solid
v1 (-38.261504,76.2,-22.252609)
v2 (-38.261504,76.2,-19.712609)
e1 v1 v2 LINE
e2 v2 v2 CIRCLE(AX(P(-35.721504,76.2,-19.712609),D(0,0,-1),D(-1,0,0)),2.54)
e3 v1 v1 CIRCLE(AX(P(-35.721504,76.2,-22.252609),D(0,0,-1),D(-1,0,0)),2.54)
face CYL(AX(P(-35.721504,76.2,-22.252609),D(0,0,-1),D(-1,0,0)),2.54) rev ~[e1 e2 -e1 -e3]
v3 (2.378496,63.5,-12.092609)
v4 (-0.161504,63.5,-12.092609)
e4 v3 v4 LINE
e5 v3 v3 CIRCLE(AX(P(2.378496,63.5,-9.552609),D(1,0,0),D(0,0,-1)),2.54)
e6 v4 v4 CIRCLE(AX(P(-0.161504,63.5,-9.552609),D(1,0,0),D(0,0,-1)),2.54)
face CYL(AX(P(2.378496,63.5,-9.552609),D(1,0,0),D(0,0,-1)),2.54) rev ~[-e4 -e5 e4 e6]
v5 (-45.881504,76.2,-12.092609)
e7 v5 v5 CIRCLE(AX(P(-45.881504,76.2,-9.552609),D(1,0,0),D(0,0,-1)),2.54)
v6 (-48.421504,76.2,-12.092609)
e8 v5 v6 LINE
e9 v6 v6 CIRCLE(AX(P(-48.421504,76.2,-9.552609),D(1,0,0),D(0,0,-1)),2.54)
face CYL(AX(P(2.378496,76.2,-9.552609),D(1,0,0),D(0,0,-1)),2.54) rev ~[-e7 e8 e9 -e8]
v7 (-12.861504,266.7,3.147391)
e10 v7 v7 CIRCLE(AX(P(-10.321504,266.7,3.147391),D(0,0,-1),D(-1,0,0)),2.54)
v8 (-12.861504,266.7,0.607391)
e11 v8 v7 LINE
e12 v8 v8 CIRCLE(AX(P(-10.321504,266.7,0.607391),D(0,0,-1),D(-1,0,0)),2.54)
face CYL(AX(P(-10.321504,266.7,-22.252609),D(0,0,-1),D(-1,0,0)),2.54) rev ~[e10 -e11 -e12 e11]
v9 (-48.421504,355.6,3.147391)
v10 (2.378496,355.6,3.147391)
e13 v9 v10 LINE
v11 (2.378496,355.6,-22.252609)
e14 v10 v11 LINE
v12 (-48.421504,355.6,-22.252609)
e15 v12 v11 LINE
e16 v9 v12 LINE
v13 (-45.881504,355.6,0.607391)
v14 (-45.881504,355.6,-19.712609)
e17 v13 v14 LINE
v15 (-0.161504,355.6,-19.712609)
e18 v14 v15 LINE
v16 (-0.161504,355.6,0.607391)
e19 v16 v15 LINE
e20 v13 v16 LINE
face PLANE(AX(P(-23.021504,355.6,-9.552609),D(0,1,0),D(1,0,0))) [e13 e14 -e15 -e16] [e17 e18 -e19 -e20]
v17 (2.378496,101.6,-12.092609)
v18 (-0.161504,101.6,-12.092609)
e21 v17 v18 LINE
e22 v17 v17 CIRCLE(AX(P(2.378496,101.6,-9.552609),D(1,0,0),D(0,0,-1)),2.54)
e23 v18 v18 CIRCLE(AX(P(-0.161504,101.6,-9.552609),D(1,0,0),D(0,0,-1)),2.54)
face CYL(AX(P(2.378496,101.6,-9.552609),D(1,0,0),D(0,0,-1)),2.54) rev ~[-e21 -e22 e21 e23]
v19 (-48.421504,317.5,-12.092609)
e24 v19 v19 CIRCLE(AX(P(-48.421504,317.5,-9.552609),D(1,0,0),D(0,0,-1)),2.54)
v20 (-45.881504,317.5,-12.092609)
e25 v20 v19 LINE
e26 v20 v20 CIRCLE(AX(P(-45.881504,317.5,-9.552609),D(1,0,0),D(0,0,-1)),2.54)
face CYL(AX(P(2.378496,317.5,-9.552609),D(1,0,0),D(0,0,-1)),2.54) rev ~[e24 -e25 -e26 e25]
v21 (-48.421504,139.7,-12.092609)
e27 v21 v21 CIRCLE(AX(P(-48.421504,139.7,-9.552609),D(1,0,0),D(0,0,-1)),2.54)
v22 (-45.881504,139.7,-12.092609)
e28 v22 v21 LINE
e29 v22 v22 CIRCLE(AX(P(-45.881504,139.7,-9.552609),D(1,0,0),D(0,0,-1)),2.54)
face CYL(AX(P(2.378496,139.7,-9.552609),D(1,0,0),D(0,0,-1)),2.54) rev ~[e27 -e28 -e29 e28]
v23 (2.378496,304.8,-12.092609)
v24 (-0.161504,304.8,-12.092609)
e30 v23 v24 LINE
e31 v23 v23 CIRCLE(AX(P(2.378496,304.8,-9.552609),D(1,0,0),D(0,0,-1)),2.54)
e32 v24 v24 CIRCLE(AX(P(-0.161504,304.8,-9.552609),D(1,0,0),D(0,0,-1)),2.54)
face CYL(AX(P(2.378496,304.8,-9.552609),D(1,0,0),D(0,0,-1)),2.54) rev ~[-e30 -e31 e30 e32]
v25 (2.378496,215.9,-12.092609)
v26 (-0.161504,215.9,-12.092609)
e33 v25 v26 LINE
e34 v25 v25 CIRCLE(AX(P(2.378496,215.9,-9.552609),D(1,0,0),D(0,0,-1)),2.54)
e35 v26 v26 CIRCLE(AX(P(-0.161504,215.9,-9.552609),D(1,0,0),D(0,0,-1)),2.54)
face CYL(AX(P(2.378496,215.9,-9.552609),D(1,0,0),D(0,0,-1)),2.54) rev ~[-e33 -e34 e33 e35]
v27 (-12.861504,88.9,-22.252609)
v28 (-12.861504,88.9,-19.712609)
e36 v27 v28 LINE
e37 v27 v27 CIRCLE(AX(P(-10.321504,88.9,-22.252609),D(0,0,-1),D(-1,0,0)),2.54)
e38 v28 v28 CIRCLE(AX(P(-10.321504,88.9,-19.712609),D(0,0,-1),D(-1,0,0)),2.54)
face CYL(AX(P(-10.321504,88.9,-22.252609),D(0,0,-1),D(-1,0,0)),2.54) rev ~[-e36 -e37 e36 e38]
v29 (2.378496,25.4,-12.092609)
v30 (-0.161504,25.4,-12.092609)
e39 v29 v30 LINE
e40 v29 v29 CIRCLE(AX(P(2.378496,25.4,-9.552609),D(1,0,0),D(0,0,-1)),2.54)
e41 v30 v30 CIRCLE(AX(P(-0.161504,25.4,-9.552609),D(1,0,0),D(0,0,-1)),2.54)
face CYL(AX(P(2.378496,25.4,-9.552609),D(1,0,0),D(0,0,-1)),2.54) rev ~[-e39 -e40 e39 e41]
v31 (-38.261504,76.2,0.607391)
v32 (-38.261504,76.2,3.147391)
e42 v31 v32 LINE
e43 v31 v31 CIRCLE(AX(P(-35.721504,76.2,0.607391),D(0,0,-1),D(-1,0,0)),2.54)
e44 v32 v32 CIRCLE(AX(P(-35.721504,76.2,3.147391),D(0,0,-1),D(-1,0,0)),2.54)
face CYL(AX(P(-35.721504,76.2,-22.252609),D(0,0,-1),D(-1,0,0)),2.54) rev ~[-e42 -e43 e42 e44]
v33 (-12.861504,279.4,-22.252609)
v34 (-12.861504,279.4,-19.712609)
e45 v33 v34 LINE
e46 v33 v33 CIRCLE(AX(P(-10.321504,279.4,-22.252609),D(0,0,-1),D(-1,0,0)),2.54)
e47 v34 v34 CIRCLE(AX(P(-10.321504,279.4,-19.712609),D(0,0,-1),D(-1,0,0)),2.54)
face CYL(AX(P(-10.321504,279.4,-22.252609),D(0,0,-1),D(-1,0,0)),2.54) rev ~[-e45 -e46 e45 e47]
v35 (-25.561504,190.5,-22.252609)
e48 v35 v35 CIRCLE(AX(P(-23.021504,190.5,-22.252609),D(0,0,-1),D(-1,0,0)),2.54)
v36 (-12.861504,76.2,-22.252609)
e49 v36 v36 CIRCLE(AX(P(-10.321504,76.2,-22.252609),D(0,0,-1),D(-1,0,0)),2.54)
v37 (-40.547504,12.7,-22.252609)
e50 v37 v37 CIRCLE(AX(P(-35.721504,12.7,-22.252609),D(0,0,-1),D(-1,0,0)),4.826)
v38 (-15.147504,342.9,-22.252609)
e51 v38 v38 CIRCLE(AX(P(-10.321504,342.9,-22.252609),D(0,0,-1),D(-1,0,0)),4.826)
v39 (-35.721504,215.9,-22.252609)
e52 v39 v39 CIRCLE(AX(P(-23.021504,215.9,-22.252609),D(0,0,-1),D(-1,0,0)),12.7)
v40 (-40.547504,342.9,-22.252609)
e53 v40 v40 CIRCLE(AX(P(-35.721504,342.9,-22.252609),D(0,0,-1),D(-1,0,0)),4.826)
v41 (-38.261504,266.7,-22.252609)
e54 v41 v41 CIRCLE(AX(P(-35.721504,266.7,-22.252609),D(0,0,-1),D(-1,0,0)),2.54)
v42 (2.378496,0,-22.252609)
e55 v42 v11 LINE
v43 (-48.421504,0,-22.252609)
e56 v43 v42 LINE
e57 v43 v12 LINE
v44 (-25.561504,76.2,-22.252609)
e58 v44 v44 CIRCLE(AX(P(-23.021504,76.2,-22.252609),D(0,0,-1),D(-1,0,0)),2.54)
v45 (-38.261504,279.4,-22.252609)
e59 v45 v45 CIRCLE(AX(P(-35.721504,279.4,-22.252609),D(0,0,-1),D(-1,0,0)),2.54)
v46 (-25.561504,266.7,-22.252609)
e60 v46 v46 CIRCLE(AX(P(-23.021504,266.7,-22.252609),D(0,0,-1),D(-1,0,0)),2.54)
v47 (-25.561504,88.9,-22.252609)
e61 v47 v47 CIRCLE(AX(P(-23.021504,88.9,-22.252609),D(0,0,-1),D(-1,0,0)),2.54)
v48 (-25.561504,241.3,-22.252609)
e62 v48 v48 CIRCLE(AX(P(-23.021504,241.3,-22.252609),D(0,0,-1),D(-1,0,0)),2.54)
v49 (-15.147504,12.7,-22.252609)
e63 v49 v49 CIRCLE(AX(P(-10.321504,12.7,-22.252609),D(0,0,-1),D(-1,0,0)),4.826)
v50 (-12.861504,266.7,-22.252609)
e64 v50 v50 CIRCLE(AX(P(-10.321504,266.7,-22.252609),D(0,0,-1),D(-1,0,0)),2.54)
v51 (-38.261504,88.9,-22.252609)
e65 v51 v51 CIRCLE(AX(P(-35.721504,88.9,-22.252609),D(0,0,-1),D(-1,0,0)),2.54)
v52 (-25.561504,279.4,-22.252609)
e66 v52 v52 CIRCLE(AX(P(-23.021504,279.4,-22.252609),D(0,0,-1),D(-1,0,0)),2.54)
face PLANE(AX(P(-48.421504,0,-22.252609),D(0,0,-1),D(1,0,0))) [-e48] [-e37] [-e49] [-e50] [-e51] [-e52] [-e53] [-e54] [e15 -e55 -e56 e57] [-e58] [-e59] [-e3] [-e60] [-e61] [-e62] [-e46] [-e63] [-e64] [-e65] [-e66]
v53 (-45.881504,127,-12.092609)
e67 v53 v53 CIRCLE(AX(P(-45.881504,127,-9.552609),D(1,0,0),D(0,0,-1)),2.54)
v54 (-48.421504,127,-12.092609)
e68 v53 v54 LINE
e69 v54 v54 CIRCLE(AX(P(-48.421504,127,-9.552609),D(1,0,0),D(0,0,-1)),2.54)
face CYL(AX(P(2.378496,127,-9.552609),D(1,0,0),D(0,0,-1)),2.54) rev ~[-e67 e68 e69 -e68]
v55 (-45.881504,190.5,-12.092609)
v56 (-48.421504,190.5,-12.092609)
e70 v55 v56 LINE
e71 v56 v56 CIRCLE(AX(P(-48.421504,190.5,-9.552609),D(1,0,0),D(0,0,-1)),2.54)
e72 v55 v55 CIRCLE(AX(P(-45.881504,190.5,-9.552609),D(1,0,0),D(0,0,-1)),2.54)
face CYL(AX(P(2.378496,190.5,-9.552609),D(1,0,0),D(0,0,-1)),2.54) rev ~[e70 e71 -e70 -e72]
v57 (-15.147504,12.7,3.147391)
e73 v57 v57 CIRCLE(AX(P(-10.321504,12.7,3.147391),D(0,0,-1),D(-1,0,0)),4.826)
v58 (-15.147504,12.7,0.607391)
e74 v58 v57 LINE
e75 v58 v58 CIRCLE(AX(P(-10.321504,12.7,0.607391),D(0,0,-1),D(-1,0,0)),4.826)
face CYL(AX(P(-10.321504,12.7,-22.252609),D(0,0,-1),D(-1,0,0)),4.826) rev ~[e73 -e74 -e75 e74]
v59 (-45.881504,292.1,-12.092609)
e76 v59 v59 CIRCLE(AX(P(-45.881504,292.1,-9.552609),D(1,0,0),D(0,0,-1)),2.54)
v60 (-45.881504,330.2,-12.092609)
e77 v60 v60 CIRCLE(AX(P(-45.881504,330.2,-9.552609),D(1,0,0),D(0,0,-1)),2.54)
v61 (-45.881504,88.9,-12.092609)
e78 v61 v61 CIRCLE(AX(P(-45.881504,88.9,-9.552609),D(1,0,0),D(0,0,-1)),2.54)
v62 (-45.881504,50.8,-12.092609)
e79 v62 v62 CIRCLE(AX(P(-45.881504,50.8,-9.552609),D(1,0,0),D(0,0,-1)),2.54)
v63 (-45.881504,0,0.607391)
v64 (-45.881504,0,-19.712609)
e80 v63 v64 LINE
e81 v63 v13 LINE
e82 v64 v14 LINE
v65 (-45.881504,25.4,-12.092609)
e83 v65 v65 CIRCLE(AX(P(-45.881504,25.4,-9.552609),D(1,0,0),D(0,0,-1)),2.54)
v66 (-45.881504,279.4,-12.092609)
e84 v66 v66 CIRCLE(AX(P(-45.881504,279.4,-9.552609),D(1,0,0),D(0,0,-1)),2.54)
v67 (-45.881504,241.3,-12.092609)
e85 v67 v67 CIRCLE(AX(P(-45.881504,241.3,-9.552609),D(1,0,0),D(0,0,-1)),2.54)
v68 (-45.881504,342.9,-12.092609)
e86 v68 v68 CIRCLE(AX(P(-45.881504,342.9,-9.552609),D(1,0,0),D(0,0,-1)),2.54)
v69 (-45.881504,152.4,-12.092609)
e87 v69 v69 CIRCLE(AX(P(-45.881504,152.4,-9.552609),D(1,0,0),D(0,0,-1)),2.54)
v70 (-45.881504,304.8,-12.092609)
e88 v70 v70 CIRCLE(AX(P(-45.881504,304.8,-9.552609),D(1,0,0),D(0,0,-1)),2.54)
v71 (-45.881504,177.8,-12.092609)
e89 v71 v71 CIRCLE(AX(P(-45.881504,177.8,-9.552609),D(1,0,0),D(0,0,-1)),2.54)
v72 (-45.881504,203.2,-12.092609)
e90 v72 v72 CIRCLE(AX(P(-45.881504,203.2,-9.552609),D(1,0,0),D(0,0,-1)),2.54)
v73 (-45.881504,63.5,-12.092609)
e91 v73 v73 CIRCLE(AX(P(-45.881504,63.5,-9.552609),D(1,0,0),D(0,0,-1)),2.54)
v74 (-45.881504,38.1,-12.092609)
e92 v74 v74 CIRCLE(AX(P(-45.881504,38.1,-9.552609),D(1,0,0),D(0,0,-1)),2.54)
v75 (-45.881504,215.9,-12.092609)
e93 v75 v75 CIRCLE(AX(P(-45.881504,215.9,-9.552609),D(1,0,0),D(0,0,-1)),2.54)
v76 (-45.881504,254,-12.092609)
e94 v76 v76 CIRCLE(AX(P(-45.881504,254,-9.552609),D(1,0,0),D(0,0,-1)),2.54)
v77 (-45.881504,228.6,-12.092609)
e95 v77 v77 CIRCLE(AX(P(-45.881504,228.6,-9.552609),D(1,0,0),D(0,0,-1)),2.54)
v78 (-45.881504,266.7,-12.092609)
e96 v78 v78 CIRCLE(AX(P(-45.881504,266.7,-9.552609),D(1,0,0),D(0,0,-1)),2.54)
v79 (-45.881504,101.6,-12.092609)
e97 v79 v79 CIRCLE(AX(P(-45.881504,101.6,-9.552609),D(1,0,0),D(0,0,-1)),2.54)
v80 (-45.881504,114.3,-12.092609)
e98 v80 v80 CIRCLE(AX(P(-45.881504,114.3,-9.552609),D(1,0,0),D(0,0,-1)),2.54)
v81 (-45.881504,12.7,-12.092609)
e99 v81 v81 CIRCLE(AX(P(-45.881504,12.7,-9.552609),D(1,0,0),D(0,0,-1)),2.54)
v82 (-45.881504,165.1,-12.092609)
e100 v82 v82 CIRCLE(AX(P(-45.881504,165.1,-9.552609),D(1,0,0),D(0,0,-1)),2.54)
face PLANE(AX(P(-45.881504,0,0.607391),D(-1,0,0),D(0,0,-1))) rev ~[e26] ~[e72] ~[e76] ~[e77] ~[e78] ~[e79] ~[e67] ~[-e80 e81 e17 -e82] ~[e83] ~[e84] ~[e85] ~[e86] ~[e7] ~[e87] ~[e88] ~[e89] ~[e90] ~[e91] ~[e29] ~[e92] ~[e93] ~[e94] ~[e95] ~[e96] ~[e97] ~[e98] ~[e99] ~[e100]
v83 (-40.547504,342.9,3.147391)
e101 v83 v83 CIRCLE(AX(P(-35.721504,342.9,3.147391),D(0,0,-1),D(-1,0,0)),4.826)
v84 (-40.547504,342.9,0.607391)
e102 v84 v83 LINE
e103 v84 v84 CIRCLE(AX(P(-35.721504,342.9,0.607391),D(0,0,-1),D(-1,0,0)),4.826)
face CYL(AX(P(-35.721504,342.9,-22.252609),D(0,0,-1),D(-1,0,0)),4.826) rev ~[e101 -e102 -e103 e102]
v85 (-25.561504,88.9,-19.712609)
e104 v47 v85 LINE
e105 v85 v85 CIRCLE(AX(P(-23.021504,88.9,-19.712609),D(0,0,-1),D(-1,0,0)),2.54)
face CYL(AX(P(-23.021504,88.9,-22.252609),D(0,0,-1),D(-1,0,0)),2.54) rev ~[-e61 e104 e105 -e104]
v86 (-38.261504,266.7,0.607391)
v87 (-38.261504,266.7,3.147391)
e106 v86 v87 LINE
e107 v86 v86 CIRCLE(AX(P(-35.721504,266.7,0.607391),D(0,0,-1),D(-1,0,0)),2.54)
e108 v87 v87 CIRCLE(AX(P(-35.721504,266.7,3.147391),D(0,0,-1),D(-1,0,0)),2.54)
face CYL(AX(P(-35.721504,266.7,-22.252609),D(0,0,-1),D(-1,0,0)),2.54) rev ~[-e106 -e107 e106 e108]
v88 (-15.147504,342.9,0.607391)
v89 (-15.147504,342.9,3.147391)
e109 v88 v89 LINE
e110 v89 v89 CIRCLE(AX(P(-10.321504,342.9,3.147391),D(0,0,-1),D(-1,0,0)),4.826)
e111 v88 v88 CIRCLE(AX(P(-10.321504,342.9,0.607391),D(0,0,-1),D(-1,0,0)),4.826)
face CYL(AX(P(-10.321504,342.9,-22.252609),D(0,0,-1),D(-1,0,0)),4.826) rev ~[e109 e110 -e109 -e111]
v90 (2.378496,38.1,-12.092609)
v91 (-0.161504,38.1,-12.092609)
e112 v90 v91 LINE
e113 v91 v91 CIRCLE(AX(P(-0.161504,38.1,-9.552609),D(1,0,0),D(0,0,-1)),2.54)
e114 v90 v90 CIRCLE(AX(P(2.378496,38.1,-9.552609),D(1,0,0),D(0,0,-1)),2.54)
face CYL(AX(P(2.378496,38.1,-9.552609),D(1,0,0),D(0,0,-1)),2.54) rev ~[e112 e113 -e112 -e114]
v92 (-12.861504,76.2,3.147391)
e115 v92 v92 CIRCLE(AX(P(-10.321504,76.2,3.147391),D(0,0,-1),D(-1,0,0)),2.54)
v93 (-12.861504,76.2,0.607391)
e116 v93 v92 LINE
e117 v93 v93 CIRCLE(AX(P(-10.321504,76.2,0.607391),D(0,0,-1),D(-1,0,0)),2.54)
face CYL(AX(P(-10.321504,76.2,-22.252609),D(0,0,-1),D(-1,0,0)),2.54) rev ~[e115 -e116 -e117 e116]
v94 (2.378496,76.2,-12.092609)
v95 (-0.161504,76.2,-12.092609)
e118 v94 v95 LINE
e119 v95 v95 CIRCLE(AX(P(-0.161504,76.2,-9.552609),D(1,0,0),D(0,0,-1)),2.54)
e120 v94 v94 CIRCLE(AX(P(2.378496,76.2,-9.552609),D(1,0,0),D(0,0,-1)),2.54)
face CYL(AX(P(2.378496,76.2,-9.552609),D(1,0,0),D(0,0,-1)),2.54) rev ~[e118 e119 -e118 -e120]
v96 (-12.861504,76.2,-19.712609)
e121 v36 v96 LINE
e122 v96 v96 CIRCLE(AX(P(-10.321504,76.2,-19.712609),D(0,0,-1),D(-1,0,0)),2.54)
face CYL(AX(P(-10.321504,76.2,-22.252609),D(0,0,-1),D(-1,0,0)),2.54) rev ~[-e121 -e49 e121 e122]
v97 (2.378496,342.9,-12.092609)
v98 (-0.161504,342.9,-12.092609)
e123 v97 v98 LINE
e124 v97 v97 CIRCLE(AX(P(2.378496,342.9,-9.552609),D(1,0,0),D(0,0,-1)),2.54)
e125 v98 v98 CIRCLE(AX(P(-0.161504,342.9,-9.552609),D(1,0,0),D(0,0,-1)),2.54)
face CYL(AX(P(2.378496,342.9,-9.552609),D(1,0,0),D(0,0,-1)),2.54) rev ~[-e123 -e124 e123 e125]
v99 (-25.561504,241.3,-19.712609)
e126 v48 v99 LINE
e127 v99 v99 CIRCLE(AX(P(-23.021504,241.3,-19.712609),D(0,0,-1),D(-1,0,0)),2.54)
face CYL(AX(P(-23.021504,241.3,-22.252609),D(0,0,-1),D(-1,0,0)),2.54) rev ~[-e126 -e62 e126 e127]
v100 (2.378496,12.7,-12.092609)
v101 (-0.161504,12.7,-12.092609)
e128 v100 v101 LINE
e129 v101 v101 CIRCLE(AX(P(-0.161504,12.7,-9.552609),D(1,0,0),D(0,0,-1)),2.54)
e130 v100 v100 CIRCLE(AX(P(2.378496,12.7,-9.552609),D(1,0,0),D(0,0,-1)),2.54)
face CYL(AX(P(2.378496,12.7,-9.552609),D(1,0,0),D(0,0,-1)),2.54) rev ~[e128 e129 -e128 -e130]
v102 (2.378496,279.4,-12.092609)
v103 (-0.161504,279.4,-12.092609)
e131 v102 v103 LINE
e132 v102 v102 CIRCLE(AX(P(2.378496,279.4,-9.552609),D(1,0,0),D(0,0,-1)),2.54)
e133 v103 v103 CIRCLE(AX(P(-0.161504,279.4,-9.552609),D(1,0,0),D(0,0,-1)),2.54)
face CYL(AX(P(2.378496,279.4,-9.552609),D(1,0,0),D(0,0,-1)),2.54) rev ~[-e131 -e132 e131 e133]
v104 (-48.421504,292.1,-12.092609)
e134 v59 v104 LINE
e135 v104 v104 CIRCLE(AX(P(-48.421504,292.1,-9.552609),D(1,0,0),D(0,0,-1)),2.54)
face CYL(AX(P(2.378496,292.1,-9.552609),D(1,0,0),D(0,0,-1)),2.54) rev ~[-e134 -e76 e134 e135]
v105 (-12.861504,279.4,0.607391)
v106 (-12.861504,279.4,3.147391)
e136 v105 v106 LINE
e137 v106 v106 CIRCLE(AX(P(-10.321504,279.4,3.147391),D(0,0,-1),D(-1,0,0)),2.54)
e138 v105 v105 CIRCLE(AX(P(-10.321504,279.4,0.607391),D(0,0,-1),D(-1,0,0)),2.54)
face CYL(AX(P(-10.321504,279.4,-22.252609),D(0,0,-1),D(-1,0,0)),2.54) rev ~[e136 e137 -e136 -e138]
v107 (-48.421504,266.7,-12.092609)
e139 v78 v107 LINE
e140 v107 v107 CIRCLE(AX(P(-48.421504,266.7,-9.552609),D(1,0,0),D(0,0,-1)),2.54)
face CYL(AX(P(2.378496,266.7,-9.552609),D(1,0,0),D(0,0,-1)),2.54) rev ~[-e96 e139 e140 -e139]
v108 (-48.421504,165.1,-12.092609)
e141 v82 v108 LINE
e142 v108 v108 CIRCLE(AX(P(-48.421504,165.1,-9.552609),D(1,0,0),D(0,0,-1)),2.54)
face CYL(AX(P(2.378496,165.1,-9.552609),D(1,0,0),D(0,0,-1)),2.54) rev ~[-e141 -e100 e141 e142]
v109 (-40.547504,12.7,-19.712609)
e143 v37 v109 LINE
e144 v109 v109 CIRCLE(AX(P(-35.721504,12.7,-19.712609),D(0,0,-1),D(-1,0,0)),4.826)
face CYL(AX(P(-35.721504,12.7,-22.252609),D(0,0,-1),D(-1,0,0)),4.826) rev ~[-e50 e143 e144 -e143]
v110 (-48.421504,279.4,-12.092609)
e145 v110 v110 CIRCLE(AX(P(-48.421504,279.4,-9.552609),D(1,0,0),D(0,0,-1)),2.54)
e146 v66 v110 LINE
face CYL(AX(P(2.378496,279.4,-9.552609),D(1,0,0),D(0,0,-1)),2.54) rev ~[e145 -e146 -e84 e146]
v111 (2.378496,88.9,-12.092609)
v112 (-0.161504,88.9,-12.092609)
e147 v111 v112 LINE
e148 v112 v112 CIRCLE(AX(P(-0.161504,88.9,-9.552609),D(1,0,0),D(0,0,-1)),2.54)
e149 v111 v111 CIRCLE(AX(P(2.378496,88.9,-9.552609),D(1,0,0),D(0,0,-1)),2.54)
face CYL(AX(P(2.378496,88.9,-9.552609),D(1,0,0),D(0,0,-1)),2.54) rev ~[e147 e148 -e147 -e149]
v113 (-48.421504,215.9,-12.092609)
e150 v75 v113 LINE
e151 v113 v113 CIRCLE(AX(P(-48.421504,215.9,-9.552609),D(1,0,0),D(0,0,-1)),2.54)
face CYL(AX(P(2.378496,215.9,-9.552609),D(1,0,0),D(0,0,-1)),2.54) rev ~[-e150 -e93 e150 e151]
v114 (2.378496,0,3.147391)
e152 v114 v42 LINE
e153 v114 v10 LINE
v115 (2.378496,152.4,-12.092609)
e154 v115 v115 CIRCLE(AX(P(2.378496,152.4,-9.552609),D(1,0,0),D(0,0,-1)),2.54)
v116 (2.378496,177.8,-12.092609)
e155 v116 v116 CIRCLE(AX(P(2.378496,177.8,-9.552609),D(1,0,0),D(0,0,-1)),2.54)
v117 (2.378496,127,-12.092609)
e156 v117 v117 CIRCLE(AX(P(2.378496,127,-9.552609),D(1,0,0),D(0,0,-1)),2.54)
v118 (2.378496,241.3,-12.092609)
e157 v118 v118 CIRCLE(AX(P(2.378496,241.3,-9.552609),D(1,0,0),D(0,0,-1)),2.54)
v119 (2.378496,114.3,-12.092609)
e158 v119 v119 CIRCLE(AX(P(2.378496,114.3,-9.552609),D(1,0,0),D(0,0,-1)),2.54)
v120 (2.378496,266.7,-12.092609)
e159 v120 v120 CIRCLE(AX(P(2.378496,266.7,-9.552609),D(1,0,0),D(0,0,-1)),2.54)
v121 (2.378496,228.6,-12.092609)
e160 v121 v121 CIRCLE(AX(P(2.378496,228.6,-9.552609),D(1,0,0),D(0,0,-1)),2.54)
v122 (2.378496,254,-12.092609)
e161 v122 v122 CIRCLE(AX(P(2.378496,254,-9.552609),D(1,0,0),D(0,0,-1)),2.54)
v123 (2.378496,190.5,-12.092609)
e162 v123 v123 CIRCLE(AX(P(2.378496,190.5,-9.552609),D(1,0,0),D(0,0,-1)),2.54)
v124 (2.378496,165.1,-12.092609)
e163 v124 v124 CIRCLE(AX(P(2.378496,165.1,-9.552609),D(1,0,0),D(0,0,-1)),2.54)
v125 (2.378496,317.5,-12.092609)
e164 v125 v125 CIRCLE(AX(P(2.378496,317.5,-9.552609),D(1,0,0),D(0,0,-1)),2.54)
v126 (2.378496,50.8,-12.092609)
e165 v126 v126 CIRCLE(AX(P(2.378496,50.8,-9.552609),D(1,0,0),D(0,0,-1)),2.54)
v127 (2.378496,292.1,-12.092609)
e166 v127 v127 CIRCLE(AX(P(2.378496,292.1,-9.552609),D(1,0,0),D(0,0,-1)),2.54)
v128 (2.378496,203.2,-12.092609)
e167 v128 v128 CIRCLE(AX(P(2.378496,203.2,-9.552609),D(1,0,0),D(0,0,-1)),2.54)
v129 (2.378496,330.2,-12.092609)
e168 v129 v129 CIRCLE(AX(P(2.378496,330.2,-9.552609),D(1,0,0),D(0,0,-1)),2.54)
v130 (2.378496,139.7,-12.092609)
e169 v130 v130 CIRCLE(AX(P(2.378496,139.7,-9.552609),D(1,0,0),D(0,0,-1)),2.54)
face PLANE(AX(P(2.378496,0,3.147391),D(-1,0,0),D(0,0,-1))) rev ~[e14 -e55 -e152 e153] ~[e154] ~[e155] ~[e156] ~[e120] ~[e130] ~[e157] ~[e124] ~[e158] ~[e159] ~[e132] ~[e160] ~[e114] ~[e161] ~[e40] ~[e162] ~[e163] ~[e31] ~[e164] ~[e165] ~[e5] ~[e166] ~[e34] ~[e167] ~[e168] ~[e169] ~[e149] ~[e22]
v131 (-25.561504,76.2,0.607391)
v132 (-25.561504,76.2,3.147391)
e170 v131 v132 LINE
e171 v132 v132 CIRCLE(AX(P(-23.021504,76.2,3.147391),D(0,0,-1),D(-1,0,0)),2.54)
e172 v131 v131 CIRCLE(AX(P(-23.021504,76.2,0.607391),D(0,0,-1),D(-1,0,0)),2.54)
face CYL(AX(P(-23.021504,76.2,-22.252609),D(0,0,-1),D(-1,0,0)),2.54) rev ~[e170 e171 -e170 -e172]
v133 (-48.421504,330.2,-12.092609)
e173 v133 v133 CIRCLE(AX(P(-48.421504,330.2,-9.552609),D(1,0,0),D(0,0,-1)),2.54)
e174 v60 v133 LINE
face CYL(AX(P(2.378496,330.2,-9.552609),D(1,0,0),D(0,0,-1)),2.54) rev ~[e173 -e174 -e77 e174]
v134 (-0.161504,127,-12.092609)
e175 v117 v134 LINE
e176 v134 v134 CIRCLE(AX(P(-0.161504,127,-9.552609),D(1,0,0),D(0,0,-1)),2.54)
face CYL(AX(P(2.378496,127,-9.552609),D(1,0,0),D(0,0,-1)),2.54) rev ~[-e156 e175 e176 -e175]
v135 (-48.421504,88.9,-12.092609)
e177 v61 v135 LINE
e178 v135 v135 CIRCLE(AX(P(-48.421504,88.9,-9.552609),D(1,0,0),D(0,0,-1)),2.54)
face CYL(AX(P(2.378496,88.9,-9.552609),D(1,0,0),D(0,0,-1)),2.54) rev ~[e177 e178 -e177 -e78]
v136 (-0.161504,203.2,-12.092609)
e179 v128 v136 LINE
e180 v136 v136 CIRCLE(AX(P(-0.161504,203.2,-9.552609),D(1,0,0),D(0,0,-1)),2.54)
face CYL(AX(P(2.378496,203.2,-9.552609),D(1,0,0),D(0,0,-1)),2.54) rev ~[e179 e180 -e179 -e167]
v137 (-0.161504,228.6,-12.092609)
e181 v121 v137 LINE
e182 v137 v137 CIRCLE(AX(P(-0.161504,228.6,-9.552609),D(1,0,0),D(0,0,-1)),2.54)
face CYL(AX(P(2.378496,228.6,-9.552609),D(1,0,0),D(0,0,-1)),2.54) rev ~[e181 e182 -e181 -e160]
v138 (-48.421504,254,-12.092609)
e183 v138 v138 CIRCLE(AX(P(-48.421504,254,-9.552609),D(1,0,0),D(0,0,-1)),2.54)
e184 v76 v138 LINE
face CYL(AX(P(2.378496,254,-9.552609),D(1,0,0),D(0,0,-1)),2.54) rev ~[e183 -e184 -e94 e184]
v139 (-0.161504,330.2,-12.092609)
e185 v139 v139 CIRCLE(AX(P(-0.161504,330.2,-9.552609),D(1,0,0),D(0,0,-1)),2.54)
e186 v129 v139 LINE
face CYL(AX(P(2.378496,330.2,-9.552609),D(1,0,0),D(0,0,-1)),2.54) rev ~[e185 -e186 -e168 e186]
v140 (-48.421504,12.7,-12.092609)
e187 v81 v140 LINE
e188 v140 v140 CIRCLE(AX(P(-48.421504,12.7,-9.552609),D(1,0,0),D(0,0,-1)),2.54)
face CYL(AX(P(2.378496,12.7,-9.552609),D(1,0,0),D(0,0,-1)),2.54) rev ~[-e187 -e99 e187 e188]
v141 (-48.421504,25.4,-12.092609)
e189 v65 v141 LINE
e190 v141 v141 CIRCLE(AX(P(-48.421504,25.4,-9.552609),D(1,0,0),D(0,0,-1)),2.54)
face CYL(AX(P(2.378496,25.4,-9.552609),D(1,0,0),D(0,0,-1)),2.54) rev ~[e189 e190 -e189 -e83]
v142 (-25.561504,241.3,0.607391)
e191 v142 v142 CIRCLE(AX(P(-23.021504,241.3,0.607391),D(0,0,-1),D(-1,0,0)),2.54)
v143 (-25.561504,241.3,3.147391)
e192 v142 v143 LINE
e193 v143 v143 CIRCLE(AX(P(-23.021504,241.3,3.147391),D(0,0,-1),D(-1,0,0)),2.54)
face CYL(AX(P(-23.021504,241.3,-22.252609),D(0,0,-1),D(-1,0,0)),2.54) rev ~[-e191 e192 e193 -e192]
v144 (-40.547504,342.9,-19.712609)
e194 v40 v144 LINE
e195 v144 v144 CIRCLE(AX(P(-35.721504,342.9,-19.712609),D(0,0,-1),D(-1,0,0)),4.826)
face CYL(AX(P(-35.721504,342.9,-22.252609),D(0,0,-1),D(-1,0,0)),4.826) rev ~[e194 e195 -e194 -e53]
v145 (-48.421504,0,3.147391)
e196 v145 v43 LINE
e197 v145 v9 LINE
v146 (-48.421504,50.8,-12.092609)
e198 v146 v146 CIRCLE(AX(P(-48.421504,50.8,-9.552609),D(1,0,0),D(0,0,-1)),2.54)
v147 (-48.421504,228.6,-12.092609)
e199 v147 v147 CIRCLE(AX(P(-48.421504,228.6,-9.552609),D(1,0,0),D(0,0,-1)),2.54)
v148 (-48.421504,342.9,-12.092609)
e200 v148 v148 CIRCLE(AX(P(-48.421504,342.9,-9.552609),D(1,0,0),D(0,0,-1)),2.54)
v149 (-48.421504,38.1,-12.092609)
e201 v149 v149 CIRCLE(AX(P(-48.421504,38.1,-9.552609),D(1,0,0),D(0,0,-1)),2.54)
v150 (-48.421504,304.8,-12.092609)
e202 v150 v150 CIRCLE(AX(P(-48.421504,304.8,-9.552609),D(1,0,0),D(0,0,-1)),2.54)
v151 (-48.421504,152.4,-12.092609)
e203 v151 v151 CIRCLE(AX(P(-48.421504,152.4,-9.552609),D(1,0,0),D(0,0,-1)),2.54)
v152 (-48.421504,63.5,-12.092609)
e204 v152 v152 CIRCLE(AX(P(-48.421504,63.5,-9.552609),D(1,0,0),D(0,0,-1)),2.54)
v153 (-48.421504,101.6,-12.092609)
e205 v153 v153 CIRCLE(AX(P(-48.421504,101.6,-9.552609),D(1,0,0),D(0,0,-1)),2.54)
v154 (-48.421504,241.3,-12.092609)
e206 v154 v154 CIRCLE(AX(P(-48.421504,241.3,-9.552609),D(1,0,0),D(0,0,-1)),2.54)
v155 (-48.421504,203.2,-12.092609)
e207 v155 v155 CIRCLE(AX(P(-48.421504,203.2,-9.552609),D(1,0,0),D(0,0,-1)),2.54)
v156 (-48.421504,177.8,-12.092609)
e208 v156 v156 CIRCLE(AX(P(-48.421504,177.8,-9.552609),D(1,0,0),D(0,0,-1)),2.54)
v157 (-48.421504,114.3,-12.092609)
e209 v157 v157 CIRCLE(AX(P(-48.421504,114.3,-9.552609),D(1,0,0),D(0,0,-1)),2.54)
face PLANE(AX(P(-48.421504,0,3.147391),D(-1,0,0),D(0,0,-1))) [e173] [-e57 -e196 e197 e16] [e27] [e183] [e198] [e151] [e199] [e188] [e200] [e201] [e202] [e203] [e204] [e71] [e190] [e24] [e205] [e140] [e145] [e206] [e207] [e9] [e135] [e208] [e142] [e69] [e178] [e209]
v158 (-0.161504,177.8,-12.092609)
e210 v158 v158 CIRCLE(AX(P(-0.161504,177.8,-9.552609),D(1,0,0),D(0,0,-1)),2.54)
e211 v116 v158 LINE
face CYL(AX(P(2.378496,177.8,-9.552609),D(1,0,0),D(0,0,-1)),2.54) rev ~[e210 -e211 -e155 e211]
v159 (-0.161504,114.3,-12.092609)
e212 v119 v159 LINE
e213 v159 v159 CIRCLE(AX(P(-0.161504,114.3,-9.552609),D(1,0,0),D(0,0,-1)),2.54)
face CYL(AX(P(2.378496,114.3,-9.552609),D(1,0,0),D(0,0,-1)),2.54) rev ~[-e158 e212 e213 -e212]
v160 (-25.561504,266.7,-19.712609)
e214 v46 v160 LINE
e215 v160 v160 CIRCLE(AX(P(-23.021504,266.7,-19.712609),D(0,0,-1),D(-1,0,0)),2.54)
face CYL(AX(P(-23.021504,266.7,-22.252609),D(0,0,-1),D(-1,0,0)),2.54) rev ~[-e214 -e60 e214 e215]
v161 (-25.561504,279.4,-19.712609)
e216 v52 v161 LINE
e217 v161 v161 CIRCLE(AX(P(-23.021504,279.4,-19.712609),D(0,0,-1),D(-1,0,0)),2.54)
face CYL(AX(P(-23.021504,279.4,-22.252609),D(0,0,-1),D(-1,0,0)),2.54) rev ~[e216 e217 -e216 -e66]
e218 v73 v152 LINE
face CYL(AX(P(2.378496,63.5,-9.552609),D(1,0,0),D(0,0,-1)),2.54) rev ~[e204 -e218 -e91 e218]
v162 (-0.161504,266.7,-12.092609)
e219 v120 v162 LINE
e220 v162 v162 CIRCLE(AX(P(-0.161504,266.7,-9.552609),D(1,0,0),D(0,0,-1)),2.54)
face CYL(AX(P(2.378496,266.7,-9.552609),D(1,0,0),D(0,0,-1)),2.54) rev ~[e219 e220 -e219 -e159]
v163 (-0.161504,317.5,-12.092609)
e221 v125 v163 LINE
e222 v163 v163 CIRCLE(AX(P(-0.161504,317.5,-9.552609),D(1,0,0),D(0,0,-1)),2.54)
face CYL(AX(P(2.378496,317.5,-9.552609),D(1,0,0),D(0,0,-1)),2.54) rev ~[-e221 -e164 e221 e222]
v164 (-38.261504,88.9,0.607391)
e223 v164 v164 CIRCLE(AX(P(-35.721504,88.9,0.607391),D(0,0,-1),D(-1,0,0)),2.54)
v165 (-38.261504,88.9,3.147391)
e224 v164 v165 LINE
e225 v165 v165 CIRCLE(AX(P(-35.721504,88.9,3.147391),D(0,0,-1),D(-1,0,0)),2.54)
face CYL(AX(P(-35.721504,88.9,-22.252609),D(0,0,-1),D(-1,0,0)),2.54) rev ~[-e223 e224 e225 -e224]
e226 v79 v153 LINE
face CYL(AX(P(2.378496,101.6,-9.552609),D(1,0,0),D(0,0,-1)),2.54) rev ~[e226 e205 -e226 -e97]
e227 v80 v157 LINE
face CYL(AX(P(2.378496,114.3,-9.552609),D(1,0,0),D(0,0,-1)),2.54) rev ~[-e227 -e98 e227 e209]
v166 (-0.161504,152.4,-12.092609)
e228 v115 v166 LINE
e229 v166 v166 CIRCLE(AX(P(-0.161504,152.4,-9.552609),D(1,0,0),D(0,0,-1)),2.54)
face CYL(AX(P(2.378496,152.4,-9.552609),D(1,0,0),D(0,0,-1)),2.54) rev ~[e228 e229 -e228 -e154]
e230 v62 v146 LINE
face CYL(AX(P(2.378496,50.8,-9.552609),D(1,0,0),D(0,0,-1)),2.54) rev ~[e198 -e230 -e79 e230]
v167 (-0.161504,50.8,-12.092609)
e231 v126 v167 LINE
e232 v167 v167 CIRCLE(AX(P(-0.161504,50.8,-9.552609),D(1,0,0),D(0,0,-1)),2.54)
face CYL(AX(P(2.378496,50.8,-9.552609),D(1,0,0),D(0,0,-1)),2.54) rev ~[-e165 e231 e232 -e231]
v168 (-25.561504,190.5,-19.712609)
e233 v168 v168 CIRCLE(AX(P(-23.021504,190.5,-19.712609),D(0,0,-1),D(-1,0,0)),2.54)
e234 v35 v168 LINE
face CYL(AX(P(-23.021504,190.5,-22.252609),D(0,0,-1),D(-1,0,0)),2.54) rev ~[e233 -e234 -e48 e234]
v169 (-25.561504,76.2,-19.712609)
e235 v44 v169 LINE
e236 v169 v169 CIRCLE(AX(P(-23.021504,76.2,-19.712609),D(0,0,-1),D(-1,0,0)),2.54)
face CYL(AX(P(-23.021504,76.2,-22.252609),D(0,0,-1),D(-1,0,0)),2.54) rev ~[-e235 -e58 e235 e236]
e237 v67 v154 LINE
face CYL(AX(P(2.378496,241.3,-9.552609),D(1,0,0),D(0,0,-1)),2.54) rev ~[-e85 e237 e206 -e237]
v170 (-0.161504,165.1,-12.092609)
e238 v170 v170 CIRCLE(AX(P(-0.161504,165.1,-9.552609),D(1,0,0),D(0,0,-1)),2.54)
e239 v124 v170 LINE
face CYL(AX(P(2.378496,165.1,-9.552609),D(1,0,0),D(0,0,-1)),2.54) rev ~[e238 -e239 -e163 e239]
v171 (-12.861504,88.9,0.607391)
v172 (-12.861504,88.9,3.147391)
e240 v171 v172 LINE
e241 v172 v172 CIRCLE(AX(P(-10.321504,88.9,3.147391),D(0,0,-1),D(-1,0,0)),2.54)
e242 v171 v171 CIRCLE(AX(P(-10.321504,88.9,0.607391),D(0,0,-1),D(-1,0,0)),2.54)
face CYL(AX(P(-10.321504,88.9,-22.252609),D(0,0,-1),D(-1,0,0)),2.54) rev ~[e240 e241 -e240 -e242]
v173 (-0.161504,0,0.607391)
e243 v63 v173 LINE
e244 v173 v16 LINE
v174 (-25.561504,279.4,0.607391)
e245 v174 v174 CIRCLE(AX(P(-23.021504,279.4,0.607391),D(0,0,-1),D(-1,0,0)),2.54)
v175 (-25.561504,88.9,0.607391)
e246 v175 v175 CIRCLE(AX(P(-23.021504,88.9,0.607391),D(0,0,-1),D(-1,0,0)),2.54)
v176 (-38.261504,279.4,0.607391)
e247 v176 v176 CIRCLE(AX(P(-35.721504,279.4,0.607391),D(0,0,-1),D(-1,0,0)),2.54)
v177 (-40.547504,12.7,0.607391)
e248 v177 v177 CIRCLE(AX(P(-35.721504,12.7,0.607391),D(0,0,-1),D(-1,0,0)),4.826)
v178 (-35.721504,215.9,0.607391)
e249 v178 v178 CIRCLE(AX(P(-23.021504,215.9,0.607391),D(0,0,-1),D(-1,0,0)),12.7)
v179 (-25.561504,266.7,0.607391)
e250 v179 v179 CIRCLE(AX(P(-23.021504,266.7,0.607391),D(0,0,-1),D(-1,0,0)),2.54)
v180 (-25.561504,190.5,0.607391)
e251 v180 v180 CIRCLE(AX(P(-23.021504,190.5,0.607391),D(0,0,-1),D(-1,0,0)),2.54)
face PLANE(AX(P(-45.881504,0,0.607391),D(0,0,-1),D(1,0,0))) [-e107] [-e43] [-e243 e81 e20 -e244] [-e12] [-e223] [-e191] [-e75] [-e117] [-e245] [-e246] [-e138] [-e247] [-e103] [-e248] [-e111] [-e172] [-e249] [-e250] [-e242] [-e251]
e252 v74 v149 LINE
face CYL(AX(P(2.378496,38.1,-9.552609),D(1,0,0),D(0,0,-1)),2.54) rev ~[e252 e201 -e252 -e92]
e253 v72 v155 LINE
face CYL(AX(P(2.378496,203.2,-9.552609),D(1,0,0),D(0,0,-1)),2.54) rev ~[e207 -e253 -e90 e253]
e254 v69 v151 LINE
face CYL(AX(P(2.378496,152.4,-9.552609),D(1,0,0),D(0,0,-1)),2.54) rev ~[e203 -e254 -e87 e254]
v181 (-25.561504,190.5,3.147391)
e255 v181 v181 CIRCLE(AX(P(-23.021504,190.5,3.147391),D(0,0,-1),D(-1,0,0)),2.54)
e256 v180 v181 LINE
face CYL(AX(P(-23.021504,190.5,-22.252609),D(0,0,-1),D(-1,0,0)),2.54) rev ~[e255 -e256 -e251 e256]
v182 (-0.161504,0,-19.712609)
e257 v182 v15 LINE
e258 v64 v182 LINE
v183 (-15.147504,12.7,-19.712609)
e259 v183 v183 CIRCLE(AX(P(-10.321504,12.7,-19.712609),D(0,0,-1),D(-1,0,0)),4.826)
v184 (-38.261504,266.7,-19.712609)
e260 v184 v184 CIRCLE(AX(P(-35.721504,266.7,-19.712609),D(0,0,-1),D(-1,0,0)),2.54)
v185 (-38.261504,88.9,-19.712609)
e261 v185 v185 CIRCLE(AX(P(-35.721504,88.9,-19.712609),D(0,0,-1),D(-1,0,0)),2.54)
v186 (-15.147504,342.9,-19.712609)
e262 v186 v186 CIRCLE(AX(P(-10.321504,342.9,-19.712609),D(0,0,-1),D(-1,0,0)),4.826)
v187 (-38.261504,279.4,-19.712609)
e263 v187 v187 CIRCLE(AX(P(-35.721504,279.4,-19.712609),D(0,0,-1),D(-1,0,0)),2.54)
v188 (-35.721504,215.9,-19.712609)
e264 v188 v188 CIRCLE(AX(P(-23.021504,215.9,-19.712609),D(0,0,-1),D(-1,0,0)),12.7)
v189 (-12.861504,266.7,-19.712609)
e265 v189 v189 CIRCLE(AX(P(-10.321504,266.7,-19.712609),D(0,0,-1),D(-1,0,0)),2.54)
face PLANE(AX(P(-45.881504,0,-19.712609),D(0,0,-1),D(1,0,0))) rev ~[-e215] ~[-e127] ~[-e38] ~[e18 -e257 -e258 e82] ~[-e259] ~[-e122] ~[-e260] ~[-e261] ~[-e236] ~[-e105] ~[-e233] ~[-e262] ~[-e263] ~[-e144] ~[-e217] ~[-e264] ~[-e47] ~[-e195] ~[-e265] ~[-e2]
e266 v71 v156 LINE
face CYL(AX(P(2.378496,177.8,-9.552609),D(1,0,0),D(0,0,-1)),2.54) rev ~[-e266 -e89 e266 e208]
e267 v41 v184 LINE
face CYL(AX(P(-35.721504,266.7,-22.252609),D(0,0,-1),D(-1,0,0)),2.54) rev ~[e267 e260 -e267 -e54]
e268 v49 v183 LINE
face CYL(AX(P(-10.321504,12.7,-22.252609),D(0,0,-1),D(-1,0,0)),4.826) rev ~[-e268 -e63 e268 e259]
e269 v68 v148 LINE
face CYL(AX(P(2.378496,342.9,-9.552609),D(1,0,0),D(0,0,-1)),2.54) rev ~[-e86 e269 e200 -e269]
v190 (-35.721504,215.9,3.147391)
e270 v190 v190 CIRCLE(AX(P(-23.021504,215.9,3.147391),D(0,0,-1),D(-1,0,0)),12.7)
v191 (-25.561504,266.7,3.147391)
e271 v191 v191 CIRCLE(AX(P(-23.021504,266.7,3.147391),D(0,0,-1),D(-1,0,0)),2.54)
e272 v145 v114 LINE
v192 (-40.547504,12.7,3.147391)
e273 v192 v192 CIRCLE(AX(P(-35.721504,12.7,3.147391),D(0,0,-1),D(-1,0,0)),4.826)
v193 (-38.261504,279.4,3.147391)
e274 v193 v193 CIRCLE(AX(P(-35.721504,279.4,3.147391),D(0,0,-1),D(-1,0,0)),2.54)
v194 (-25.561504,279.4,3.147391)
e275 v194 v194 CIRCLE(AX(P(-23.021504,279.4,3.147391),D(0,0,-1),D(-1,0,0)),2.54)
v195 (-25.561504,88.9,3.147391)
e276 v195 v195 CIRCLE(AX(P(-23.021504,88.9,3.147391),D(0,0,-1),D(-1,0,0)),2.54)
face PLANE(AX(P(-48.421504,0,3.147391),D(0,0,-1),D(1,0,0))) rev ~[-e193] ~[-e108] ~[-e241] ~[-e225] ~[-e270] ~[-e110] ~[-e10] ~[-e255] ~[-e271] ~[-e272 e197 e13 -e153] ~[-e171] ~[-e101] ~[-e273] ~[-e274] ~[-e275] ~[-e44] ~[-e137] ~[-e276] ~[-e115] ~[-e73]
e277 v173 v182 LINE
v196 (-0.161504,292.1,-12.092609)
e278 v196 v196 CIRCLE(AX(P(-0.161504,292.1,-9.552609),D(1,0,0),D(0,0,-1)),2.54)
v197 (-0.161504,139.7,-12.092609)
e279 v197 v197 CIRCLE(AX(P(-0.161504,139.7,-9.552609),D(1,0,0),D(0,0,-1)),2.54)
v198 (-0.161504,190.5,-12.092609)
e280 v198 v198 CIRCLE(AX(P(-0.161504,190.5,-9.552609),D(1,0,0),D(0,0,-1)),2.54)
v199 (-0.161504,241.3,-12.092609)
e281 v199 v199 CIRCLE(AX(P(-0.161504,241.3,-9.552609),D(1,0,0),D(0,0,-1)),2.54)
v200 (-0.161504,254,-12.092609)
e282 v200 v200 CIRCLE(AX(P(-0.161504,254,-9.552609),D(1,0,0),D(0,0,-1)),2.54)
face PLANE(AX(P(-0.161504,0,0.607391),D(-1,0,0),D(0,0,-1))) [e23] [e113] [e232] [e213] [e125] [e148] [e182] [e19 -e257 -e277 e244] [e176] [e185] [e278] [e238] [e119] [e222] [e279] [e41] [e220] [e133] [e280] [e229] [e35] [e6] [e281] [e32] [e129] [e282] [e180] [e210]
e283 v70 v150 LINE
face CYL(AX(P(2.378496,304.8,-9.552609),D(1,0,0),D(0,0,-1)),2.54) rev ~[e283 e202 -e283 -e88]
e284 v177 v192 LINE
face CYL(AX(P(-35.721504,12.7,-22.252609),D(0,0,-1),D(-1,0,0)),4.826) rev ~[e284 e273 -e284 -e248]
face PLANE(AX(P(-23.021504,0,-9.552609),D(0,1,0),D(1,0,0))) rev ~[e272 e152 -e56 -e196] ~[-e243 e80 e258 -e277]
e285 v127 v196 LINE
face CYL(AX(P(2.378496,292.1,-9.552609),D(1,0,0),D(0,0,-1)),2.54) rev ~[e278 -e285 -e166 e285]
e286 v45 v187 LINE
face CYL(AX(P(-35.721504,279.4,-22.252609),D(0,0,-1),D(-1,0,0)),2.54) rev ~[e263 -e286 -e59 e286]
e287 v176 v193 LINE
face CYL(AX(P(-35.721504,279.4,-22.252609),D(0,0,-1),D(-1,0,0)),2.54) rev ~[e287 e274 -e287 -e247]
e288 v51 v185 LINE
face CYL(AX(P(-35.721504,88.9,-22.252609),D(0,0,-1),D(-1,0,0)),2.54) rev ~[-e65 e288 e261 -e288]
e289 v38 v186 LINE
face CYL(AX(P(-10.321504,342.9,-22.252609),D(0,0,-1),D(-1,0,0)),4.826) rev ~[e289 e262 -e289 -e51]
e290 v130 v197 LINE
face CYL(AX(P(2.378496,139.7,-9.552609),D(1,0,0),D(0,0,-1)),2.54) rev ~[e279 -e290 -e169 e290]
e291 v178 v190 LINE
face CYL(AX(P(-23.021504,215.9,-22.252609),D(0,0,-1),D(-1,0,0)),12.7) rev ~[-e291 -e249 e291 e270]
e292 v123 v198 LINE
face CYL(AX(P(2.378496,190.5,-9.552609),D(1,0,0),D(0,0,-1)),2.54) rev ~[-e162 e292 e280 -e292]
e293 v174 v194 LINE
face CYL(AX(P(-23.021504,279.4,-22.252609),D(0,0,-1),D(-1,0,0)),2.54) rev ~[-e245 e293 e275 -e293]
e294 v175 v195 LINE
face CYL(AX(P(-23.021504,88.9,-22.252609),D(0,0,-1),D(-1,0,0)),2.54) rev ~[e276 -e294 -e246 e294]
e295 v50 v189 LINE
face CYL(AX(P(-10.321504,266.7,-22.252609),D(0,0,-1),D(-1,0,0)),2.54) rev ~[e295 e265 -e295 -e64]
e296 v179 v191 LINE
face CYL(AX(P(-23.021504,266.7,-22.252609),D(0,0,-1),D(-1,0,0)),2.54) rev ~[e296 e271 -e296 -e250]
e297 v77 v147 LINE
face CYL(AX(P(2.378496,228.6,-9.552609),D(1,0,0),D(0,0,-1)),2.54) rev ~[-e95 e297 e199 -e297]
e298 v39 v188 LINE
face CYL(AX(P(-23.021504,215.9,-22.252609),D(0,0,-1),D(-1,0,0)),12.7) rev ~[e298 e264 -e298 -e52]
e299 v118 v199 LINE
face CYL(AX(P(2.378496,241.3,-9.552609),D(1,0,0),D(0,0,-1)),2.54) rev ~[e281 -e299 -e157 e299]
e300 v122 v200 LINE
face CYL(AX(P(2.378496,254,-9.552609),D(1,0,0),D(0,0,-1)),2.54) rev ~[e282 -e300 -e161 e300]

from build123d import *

# Parameters (mm, degrees)
SKETCH1_W           = 50.8
SKETCH1_H           = 25.4
SKETCH1_W_2         = 45.72
SKETCH1_H_2         = 20.32
BOSS_EXTRUDE1_DEPTH = 355.6
SKETCH2_R           = 2.54
CUT_EXTRUDE2_DEPTH  = 355.6
SKETCH3_R           = 4.826
SKETCH3_R_2         = 2.54
SKETCH3_R_3         = 12.7
CUT_EXTRUDE3_DEPTH  = 355.6


with BuildPart() as part:
    # Sketch1 → Boss-Extrude1 (new body)
    with BuildSketch(Plane(origin=(0, 0, 0), x_dir=(1, 0, 0), z_dir=(0, 1, 0))):
        with Locations((-23.021504389, 9.552608696)):
            Rectangle(SKETCH1_W, SKETCH1_H)
        with Locations((-23.021504389, 9.552608696)):
            Rectangle(SKETCH1_W_2, SKETCH1_H_2, mode=Mode.SUBTRACT)
    extrude(amount=BOSS_EXTRUDE1_DEPTH)

    # Sketch2 → Cut-Extrude2 (cut)
    with BuildSketch(Plane(origin=(2.378495611, 0, 0), x_dir=(0, 0, -1), z_dir=(1, 0, 0))):
        with Locations((9.552608696, 342.9)):
            Circle(SKETCH2_R)
        with Locations((9.552608696, 330.2)):
            Circle(SKETCH2_R)
        with Locations((9.552608696, 317.5)):
            Circle(SKETCH2_R)
        with Locations((9.552608696, 304.8)):
            Circle(SKETCH2_R)
        with Locations((9.552608696, 292.1)):
            Circle(SKETCH2_R)
        with Locations((9.552608696, 279.4)):
            Circle(SKETCH2_R)
        with Locations((9.552608696, 266.7)):
            Circle(SKETCH2_R)
        with Locations((9.552608696, 254)):
            Circle(SKETCH2_R)
        with Locations((9.552608696, 241.3)):
            Circle(SKETCH2_R)
        with Locations((9.552608696, 228.6)):
            Circle(SKETCH2_R)
        with Locations((9.552608696, 215.9)):
            Circle(SKETCH2_R)
        with Locations((9.552608696, 203.2)):
            Circle(SKETCH2_R)
        with Locations((9.552608696, 190.5)):
            Circle(SKETCH2_R)
        with Locations((9.552608696, 177.8)):
            Circle(SKETCH2_R)
        with Locations((9.552608696, 165.1)):
            Circle(SKETCH2_R)
        with Locations((9.552608696, 152.4)):
            Circle(SKETCH2_R)
        with Locations((9.552608696, 139.7)):
            Circle(SKETCH2_R)
        with Locations((9.552608696, 127)):
            Circle(SKETCH2_R)
        with Locations((9.552608696, 114.3)):
            Circle(SKETCH2_R)
        with Locations((9.552608696, 101.6)):
            Circle(SKETCH2_R)
        with Locations((9.552608696, 88.9)):
            Circle(SKETCH2_R)
        with Locations((9.552608696, 76.2)):
            Circle(SKETCH2_R)
        with Locations((9.552608696, 63.5)):
            Circle(SKETCH2_R)
        with Locations((9.552608696, 50.8)):
            Circle(SKETCH2_R)
        with Locations((9.552608696, 38.1)):
            Circle(SKETCH2_R)
        with Locations((9.552608696, 25.4)):
            Circle(SKETCH2_R)
        with Locations((9.552608696, 12.7)):
            Circle(SKETCH2_R)
    extrude(amount=-CUT_EXTRUDE2_DEPTH, mode=Mode.SUBTRACT)

    # Sketch3 → Cut-Extrude3 (cut)
    with BuildSketch(Plane(origin=(0, 0, -22.252608696), x_dir=(-1, 0, 0), z_dir=(0, 0, -1))):
        with Locations((10.321504389, 342.9)):
            Circle(SKETCH3_R)
        with Locations((35.721504389, 342.9)):
            Circle(SKETCH3_R)
        with Locations((10.321504389, 279.4)):
            Circle(SKETCH3_R_2)
        with Locations((23.021504389, 279.4)):
            Circle(SKETCH3_R_2)
        with Locations((35.721504389, 279.4)):
            Circle(SKETCH3_R_2)
        with Locations((10.321504389, 266.7)):
            Circle(SKETCH3_R_2)
        with Locations((23.021504389, 266.7)):
            Circle(SKETCH3_R_2)
        with Locations((35.721504389, 266.7)):
            Circle(SKETCH3_R_2)
        with Locations((23.021504389, 241.3)):
            Circle(SKETCH3_R_2)
        with Locations((23.021504389, 215.9)):
            Circle(SKETCH3_R_3)
        with Locations((23.021504389, 190.5)):
            Circle(SKETCH3_R_2)
        with Locations((35.721504389, 88.9)):
            Circle(SKETCH3_R_2)
        with Locations((23.021504389, 88.9)):
            Circle(SKETCH3_R_2)
        with Locations((10.321504389, 88.9)):
            Circle(SKETCH3_R_2)
        with Locations((10.321504389, 76.2)):
            Circle(SKETCH3_R_2)
        with Locations((23.021504389, 76.2)):
            Circle(SKETCH3_R_2)
        with Locations((35.721504389, 76.2)):
            Circle(SKETCH3_R_2)
        with Locations((35.721504389, 12.7)):
            Circle(SKETCH3_R)
        with Locations((10.321504389, 12.7)):
            Circle(SKETCH3_R)
    extrude(amount=-CUT_EXTRUDE3_DEPTH, mode=Mode.SUBTRACT)


solid = part.part
